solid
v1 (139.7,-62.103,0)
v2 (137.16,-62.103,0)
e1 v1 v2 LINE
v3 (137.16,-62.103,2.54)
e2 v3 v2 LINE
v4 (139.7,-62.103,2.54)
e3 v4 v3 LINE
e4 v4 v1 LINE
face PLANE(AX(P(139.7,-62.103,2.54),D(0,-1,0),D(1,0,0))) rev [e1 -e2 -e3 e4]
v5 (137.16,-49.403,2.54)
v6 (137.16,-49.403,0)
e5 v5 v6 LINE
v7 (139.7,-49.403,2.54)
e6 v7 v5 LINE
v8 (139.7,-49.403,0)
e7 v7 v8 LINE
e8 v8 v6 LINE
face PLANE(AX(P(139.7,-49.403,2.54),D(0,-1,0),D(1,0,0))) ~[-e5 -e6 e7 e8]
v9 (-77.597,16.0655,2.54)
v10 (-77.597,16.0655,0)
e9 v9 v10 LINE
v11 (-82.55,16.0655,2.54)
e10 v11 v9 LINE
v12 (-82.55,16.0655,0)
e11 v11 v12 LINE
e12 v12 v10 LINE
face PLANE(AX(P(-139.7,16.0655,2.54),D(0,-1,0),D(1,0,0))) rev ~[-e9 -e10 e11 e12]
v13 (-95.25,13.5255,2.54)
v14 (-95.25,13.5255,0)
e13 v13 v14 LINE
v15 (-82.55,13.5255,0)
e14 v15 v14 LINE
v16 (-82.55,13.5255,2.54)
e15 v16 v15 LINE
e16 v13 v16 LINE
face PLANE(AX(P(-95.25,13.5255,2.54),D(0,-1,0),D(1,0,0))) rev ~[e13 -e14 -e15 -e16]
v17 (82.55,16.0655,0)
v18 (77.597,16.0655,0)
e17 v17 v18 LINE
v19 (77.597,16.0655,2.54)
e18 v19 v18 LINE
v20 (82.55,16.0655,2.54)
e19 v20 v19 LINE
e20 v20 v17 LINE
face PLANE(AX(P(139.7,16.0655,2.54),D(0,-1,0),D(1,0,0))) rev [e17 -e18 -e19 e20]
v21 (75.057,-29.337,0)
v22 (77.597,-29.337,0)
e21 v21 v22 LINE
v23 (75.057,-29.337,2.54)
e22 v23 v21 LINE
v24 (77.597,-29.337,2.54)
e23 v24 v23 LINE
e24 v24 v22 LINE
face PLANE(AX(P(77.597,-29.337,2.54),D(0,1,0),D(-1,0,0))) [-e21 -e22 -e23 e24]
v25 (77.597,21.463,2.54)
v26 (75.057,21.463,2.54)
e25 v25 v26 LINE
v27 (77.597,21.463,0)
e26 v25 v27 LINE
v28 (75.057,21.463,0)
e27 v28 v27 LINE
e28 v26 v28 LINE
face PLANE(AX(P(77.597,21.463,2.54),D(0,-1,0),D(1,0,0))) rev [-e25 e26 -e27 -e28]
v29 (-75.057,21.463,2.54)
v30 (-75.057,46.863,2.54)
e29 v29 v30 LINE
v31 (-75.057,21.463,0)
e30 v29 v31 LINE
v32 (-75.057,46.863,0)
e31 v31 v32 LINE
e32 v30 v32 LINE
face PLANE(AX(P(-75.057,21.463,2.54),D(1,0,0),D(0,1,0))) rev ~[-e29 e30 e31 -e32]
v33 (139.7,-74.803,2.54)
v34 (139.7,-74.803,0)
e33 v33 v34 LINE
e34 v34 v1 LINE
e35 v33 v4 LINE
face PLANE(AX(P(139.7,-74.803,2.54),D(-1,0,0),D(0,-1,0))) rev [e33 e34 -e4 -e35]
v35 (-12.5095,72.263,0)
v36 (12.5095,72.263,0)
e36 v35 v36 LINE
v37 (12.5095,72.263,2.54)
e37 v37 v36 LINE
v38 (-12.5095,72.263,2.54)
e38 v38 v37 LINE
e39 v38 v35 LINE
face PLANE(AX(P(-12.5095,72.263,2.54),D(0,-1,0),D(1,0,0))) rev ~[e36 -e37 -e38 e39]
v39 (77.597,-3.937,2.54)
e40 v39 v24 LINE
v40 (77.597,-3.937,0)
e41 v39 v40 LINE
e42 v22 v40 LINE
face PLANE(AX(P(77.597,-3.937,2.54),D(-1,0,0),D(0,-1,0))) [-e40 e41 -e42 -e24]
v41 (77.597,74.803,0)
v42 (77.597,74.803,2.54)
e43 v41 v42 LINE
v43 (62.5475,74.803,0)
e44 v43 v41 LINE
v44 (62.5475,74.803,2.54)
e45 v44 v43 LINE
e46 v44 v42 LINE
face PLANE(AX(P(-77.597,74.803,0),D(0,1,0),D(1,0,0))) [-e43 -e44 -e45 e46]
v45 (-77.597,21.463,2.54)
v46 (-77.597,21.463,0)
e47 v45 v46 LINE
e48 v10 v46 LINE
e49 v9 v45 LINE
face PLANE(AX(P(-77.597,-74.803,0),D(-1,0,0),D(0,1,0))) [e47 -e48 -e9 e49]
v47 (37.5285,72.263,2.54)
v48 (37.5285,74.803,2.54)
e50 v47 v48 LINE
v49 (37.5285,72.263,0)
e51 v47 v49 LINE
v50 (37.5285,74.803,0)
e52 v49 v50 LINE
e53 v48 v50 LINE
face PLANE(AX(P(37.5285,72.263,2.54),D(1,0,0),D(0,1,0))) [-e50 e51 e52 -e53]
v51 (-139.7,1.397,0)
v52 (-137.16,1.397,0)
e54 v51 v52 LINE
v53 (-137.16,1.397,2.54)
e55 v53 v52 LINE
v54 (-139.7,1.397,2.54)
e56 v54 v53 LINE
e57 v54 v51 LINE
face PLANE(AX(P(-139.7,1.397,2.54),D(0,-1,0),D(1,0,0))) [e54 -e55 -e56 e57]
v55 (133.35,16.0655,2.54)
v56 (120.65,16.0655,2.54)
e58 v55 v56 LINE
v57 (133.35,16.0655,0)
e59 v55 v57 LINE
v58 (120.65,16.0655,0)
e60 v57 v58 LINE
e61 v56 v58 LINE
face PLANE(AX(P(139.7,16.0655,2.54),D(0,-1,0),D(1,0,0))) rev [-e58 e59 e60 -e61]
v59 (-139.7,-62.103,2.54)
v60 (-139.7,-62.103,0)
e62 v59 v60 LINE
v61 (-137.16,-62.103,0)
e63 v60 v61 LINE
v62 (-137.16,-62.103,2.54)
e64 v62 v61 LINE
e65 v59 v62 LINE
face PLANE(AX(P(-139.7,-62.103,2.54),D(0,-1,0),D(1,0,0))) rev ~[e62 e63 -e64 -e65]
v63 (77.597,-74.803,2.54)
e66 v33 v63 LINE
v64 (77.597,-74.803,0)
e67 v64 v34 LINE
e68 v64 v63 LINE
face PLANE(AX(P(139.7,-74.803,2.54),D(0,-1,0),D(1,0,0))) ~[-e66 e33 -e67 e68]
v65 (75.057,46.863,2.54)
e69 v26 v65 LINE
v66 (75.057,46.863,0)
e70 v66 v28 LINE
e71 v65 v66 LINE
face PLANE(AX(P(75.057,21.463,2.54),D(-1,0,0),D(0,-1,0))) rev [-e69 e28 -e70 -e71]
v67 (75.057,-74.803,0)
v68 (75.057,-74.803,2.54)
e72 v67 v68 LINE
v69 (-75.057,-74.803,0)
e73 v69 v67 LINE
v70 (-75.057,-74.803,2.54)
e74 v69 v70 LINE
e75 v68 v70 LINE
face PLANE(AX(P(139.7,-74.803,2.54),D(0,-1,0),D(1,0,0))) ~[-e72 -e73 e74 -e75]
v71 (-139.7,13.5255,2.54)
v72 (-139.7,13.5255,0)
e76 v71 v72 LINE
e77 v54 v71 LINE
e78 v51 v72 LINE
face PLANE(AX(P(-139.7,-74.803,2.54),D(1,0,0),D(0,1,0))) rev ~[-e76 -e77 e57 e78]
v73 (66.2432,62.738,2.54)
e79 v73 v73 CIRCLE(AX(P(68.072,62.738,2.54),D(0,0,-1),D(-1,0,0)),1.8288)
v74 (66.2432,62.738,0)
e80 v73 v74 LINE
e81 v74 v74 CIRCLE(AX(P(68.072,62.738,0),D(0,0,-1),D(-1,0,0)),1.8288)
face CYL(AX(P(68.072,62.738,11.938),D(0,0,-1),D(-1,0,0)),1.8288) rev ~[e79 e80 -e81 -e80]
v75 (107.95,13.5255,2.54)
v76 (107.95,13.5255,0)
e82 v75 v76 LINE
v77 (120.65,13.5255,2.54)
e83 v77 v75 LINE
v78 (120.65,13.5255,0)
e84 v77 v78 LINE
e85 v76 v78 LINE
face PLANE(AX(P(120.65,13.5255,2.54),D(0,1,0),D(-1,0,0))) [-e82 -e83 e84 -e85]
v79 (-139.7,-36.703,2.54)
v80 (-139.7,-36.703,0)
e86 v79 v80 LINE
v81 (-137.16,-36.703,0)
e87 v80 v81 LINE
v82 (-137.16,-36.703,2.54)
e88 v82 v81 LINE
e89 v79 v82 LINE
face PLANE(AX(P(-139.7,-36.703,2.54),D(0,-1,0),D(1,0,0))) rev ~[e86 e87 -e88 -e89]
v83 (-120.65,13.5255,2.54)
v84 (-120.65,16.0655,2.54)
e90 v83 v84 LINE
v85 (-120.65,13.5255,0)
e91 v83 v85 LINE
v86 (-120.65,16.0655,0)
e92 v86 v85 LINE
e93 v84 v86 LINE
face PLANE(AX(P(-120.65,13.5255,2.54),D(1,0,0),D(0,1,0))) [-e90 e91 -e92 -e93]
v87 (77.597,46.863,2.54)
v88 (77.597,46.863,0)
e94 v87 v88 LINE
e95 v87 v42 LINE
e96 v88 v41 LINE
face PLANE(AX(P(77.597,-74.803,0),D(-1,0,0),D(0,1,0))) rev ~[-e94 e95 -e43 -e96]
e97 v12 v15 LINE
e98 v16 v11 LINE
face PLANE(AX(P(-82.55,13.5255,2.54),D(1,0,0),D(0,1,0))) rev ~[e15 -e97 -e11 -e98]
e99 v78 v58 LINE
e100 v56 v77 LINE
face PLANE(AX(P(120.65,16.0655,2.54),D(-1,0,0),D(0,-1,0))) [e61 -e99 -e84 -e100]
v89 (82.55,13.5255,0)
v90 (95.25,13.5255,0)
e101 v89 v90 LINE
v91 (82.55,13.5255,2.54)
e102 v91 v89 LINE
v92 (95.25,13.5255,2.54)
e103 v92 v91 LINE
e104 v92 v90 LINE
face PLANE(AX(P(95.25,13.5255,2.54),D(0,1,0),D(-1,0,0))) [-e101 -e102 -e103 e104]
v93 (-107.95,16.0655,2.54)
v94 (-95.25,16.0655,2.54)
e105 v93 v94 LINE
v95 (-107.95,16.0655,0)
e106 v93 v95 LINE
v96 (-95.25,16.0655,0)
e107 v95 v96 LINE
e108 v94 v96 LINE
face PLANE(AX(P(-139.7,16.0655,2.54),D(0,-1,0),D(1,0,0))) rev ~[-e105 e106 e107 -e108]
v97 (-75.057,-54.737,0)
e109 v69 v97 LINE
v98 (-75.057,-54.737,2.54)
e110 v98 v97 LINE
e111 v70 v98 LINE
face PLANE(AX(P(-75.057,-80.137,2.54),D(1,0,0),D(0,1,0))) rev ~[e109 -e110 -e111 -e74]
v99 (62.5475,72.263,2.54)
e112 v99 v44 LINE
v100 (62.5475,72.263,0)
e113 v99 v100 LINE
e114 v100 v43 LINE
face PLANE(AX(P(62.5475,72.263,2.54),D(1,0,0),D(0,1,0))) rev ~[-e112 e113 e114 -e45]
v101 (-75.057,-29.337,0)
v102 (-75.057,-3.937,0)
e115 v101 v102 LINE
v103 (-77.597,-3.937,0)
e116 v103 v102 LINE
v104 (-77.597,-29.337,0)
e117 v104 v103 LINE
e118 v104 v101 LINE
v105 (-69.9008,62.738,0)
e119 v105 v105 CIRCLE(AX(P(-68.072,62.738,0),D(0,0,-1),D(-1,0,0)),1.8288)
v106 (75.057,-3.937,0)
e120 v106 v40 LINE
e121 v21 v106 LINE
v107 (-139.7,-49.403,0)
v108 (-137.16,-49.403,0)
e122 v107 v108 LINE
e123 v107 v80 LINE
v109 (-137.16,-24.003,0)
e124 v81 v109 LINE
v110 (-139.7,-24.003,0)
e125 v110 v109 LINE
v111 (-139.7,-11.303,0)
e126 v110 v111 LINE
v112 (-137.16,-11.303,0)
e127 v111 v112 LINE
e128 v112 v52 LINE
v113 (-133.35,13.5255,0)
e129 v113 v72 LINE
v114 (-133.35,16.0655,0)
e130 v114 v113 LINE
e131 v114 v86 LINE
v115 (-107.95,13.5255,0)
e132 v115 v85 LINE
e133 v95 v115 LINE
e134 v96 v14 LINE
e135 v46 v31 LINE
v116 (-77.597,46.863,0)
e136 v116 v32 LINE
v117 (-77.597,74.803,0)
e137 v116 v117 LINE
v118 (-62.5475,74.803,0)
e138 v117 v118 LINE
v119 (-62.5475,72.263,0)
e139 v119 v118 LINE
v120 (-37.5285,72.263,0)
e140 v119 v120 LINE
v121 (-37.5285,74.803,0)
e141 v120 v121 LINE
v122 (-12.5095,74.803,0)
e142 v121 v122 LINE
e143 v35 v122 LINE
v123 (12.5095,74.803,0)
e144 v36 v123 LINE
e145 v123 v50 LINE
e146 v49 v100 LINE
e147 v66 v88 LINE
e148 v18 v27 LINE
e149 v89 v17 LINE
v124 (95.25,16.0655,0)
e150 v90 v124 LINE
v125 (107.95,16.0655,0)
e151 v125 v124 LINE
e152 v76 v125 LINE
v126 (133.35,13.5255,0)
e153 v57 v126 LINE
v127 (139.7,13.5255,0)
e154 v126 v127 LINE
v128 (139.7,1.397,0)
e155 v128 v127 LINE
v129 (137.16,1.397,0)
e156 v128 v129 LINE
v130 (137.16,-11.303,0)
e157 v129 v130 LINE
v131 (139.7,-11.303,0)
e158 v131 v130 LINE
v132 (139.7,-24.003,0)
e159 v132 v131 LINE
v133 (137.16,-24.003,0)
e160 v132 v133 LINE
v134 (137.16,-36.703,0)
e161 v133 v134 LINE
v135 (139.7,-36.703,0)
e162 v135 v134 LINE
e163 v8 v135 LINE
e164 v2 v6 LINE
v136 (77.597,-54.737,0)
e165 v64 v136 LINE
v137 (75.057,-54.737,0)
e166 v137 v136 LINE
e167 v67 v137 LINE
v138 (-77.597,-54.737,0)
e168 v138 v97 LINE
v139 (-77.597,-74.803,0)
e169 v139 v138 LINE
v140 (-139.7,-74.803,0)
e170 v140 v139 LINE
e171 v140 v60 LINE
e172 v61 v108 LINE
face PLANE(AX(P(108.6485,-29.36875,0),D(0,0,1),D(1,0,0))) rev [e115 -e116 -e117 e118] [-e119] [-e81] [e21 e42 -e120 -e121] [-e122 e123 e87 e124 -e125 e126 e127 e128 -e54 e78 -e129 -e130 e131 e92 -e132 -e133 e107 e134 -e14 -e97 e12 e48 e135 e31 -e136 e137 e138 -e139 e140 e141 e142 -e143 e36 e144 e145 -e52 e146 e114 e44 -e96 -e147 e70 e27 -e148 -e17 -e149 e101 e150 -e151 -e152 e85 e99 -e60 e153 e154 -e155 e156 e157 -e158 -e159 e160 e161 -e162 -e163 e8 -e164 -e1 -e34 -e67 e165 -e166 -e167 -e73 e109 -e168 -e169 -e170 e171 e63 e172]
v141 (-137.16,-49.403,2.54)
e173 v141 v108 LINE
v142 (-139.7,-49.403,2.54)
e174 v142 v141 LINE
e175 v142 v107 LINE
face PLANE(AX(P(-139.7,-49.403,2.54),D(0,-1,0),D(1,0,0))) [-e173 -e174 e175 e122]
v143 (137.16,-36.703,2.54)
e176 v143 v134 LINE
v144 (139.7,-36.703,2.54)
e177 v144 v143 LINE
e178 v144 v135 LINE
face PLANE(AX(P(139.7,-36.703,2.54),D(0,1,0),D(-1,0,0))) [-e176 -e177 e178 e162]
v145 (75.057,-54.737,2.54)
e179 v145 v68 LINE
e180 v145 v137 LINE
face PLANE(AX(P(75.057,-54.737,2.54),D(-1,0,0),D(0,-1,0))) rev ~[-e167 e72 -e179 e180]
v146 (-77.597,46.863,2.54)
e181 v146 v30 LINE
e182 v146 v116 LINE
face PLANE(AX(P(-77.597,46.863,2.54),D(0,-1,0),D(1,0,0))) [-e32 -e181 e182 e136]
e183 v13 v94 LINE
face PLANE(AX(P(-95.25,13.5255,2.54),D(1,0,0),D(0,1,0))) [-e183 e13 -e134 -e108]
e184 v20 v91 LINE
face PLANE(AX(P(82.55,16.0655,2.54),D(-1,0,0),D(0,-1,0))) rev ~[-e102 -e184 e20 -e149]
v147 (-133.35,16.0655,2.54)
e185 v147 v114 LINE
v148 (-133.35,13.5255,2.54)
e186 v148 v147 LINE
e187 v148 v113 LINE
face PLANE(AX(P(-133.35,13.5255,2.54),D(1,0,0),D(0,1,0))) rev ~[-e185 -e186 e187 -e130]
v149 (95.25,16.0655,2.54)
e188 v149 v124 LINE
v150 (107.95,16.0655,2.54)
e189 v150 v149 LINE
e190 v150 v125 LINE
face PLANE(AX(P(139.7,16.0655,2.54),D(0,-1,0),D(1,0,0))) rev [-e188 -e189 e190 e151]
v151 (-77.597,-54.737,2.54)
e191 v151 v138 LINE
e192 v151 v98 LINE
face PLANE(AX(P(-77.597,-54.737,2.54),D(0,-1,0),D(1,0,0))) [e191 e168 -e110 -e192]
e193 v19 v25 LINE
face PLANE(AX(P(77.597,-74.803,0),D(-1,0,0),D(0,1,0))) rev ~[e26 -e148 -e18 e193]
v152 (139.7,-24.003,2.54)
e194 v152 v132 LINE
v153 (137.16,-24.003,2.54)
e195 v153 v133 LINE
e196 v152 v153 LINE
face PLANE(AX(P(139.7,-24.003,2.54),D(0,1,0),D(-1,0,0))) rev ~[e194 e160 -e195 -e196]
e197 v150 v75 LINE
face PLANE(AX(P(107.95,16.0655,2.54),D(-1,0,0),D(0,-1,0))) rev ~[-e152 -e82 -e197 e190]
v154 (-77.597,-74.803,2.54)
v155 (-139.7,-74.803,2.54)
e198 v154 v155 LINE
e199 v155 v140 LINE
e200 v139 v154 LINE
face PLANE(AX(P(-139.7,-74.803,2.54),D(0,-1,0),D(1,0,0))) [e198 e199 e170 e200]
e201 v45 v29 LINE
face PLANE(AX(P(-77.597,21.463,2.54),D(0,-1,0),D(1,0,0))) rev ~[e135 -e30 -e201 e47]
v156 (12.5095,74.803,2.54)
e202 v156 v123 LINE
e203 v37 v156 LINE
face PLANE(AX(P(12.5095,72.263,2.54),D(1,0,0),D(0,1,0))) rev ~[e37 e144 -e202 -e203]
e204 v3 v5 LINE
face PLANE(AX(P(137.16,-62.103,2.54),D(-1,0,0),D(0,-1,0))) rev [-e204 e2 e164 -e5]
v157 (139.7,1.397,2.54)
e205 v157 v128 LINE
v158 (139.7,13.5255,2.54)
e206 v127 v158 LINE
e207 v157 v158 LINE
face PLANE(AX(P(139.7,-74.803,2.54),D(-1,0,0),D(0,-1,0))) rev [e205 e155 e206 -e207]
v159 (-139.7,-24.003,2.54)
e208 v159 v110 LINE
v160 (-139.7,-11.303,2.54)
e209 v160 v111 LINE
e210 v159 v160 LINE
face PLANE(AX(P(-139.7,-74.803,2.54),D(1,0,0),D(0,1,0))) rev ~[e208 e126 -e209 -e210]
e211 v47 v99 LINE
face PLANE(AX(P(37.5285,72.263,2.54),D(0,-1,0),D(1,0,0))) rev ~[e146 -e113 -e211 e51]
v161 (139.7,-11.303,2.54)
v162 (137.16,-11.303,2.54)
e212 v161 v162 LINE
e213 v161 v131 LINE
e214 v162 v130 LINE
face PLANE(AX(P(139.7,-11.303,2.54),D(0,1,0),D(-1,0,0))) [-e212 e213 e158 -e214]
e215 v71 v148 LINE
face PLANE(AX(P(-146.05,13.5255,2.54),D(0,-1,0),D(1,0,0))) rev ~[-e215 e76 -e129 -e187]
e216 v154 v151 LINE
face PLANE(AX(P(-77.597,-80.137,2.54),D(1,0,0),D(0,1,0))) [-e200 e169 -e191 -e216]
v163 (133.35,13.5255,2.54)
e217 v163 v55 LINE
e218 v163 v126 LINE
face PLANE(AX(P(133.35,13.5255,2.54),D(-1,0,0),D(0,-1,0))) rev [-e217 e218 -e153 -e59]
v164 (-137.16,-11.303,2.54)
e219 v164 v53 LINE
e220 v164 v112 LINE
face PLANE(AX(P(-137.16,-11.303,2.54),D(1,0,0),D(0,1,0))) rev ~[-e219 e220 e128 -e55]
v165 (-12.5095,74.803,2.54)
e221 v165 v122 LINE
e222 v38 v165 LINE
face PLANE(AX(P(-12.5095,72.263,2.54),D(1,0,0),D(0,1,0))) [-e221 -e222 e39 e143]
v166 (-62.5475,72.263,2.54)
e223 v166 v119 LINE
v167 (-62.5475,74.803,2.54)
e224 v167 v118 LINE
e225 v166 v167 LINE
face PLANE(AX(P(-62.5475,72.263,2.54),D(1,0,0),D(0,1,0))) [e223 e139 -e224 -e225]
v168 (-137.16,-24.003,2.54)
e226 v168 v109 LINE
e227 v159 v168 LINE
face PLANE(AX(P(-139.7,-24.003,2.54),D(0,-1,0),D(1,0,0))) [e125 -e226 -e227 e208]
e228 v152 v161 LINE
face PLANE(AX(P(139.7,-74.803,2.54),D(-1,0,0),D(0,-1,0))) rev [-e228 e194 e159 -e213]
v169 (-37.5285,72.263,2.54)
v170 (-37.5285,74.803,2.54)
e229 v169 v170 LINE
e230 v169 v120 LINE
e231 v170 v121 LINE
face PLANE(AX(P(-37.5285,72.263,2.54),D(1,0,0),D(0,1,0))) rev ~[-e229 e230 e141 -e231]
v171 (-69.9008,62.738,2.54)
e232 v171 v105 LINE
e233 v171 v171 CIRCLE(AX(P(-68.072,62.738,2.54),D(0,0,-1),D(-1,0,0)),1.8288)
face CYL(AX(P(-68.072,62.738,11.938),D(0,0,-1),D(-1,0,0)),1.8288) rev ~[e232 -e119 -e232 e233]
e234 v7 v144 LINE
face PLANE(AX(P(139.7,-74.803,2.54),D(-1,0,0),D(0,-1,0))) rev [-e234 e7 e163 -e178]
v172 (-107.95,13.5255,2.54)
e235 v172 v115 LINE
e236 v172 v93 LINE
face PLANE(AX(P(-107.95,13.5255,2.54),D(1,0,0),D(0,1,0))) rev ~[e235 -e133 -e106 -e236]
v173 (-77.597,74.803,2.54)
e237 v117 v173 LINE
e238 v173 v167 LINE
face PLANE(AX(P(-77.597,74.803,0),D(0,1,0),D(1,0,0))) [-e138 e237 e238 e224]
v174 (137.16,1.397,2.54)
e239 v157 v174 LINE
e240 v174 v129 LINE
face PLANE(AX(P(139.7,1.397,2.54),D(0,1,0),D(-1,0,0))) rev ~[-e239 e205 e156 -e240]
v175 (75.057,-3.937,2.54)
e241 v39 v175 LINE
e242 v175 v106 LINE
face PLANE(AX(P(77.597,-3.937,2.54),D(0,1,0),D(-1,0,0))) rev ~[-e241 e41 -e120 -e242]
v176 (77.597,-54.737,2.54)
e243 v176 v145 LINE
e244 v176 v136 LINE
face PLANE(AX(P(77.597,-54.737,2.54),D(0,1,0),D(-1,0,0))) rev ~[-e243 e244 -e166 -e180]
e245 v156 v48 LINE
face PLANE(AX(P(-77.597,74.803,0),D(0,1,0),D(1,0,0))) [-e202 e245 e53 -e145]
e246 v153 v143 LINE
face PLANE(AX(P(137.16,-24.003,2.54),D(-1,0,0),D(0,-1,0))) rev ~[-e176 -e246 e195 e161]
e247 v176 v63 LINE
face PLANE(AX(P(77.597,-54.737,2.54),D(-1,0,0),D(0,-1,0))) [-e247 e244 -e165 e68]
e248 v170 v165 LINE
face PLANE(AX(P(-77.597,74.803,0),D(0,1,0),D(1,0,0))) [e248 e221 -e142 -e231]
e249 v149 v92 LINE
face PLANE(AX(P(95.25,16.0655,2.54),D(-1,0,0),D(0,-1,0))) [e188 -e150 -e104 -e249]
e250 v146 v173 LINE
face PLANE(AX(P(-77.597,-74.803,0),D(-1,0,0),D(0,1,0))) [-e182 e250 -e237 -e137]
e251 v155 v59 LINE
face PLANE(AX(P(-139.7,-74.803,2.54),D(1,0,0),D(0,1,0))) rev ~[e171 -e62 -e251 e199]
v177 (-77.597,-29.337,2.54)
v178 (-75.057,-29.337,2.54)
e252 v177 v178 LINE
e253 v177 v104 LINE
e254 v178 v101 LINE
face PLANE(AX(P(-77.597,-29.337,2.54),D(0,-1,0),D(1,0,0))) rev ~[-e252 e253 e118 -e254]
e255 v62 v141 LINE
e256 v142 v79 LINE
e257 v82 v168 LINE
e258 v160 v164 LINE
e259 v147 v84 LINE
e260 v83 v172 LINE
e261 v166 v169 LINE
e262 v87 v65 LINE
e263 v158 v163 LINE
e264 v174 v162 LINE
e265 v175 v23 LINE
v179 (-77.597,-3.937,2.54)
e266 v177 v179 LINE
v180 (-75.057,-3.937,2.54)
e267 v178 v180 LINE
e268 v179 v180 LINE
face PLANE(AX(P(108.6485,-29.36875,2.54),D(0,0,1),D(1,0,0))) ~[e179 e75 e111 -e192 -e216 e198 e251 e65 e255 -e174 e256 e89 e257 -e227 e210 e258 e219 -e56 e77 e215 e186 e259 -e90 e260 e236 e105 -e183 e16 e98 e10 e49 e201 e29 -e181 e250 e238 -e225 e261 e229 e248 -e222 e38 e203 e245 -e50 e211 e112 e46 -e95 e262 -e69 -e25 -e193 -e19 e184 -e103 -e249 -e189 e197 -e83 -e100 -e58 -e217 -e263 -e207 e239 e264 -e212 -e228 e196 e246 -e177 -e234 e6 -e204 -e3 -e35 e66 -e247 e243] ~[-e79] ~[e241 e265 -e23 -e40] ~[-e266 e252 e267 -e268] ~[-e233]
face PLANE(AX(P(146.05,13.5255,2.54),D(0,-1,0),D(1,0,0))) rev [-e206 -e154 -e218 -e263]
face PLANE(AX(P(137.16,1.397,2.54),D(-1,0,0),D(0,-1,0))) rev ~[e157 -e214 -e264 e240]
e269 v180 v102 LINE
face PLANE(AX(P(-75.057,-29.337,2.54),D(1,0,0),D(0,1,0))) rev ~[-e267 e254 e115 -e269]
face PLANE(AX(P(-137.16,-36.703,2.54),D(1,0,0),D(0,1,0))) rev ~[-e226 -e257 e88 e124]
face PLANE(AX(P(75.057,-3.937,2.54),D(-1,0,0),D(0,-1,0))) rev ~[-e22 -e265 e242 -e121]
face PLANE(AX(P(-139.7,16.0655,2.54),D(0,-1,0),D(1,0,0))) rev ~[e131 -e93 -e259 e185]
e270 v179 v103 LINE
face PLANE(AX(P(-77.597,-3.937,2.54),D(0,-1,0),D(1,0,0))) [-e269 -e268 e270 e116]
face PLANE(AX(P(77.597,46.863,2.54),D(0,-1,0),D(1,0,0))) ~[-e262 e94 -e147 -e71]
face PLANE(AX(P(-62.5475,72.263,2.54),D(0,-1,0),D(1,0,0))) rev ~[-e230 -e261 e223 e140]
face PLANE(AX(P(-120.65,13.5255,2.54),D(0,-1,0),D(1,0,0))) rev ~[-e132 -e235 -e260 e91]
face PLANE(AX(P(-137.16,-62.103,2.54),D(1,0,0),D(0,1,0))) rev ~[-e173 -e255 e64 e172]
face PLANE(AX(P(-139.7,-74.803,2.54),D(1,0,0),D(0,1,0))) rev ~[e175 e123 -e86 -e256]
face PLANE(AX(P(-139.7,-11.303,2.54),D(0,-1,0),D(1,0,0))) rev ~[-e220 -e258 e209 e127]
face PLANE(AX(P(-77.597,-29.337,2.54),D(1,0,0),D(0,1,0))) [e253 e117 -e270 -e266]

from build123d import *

# Parameters (mm, degrees)
SKETCH1_W                 = 155.194
SKETCH1_H                 = 149.606
BOSS_EXTRUDE1_DEPTH       = 2.54
SKETCH2_W                 = 62.103
SKETCH2_H                 = 90.8685
BOSS_EXTRUDE2_DEPTH       = 2.54
SKETCH3_W                 = 2.54
SKETCH3_H                 = 25.4
CUT_EXTRUDE1_DEPTH        = 159.486688428
LPATTERN1_COUNT           = 3
LPATTERN1_PITCH           = 50.8
MIRROR1_COPY_1_SKETCH_W   = 2.54
MIRROR1_COPY_1_SKETCH_H   = 25.4
MIRROR1_COPY_1_DEPTH      = 159.486688428
MIRROR1_COPY_2_SKETCH_W   = 2.54
MIRROR1_COPY_2_SKETCH_H   = 25.4
MIRROR1_COPY_2_DEPTH      = 159.486688428
SKETCH4_W                 = 12.7
SKETCH4_H                 = 2.54
CUT_EXTRUDE2_DEPTH        = 159.486688428
LPATTERN2_COUNT           = 3
LPATTERN2_PITCH           = 25.4
MIRROR2_COPY_1_SKETCH_W   = 12.7
MIRROR2_COPY_1_SKETCH_H   = 2.54
MIRROR2_COPY_1_DEPTH      = 159.486688428
MIRROR2_COPY_2_SKETCH_W   = 12.7
MIRROR2_COPY_2_SKETCH_H   = 2.54
MIRROR2_COPY_2_DEPTH      = 159.486688428
SKETCH5_W                 = 2.54
SKETCH5_H                 = 12.7
CUT_EXTRUDE3_DEPTH        = 2.54
LPATTERN3_COUNT           = 4
LPATTERN3_PITCH           = 25.4
MIRROR3_COPY_1_SKETCH_W   = 2.54
MIRROR3_COPY_1_SKETCH_H   = 12.7
MIRROR3_COPY_1_DEPTH      = 2.54
MIRROR3_COPY_2_SKETCH_W   = 2.54
MIRROR3_COPY_2_SKETCH_H   = 12.7
MIRROR3_COPY_2_DEPTH      = 2.54
MIRROR3_COPY_3_SKETCH_W   = 2.54
MIRROR3_COPY_3_SKETCH_H   = 12.7
MIRROR3_COPY_3_DEPTH      = 2.54
SKETCH6_W                 = 25.019
SKETCH6_H                 = 2.54
CUT_EXTRUDE4_DEPTH        = 2.54
LPATTERN4_COUNT           = 3
LPATTERN4_PITCH           = 50.038
F_6_CLEARANCE_HOLE1_D     = 3.6576
F_6_CLEARANCE_HOLE1_DEPTH = 9.398
F_6_CLEARANCE_HOLE1_TIP   = 1.0988539


with BuildPart() as part:
    # Sketch1 → Boss-Extrude1 (new body)
    with BuildSketch(Plane.XY):
        Rectangle(SKETCH1_W, SKETCH1_H)
    extrude(amount=BOSS_EXTRUDE1_DEPTH)

    # Sketch2 → Boss-Extrude2 (add)
    with BuildSketch(Plane.XY.offset(2.54)):
        with Locations((-108.6485, -29.36875)):
            Rectangle(SKETCH2_W, SKETCH2_H)
    boss_extrude2 = extrude(amount=-BOSS_EXTRUDE2_DEPTH)

    # Sketch3 → Cut-Extrude1 (cut, through all)
    with BuildSketch(Plane.XY.offset(2.54)):
        with Locations((-76.327, 34.163)):
            Rectangle(SKETCH3_W, SKETCH3_H)
    cut_extrude1 = extrude(amount=-CUT_EXTRUDE1_DEPTH, mode=Mode.SUBTRACT)

    # LPattern1: Cut-Extrude1 ×3
    with Locations(*[(0, -i * LPATTERN1_PITCH, 0) for i in range(1, LPATTERN1_COUNT)]):
        add(cut_extrude1, mode=Mode.SUBTRACT)

    # Mirror1: Boss-Extrude2, Cut-Extrude1 across plane
    add(boss_extrude2.mirror(Plane(origin=(0, 0, 0), x_dir=(0, 0, 1), z_dir=(1, 0, 0))))
    add(cut_extrude1.mirror(Plane(origin=(0, 0, 0), x_dir=(0, 0, 1), z_dir=(1, 0, 0))), mode=Mode.SUBTRACT)

    # Mirror1 copy 1 sketch → Mirror1 copy 1 (cut, through all)
    with BuildSketch(Plane(origin=(0, -50.8, 2.54), x_dir=(-1, 0, 0), z_dir=(0, 0, 1))):
        with Locations((-76.327, -34.163)):
            Rectangle(MIRROR1_COPY_1_SKETCH_W, MIRROR1_COPY_1_SKETCH_H)
    extrude(amount=-MIRROR1_COPY_1_DEPTH, mode=Mode.SUBTRACT)

    # Mirror1 copy 2 sketch → Mirror1 copy 2 (cut, through all)
    with BuildSketch(Plane(origin=(0, -101.6, 2.54), x_dir=(-1, 0, 0), z_dir=(0, 0, 1))):
        with Locations((-76.327, -34.163)):
            Rectangle(MIRROR1_COPY_2_SKETCH_W, MIRROR1_COPY_2_SKETCH_H)
    extrude(amount=-MIRROR1_COPY_2_DEPTH, mode=Mode.SUBTRACT)

    # Sketch4 → Cut-Extrude2 (cut, through all)
    with BuildSketch(Plane.XY.offset(2.54)):
        with Locations((-139.7, 14.7955)):
            Rectangle(SKETCH4_W, SKETCH4_H)
    cut_extrude2 = extrude(amount=-CUT_EXTRUDE2_DEPTH, mode=Mode.SUBTRACT)

    # LPattern2: Cut-Extrude2 ×3
    with Locations(*[(i * LPATTERN2_PITCH, 0, 0) for i in range(1, LPATTERN2_COUNT)]):
        add(cut_extrude2, mode=Mode.SUBTRACT)

    # Mirror2: Cut-Extrude2 across plane
    add(cut_extrude2.mirror(Plane(origin=(0, 0, 0), x_dir=(0, 0, 1), z_dir=(1, 0, 0))), mode=Mode.SUBTRACT)

    # Mirror2 copy 1 sketch → Mirror2 copy 1 (cut, through all)
    with BuildSketch(Plane(origin=(-25.4, 0, 2.54), x_dir=(-1, 0, 0), z_dir=(0, 0, 1))):
        with Locations((-139.7, -14.7955)):
            Rectangle(MIRROR2_COPY_1_SKETCH_W, MIRROR2_COPY_1_SKETCH_H)
    extrude(amount=-MIRROR2_COPY_1_DEPTH, mode=Mode.SUBTRACT)

    # Mirror2 copy 2 sketch → Mirror2 copy 2 (cut, through all)
    with BuildSketch(Plane(origin=(-50.8, 0, 2.54), x_dir=(-1, 0, 0), z_dir=(0, 0, 1))):
        with Locations((-139.7, -14.7955)):
            Rectangle(MIRROR2_COPY_2_SKETCH_W, MIRROR2_COPY_2_SKETCH_H)
    extrude(amount=-MIRROR2_COPY_2_DEPTH, mode=Mode.SUBTRACT)

    # Sketch5 → Cut-Extrude3 (cut)
    with BuildSketch(Plane.XY.offset(2.54)):
        with Locations((-138.43, -55.753)):
            Rectangle(SKETCH5_W, SKETCH5_H)
    cut_extrude3 = extrude(amount=-CUT_EXTRUDE3_DEPTH, mode=Mode.SUBTRACT)

    # LPattern3: Cut-Extrude3 ×4
    with Locations(*[(0, i * LPATTERN3_PITCH, 0) for i in range(1, LPATTERN3_COUNT)]):
        add(cut_extrude3, mode=Mode.SUBTRACT)

    # Mirror3: Cut-Extrude3 across plane
    add(cut_extrude3.mirror(Plane(origin=(0, 0, 0), x_dir=(0, 0, 1), z_dir=(1, 0, 0))), mode=Mode.SUBTRACT)

    # Mirror3 copy 1 sketch → Mirror3 copy 1 (cut)
    with BuildSketch(Plane(origin=(0, 25.4, 2.54), x_dir=(-1, 0, 0), z_dir=(0, 0, 1))):
        with Locations((-138.43, 55.753)):
            Rectangle(MIRROR3_COPY_1_SKETCH_W, MIRROR3_COPY_1_SKETCH_H)
    extrude(amount=-MIRROR3_COPY_1_DEPTH, mode=Mode.SUBTRACT)

    # Mirror3 copy 2 sketch → Mirror3 copy 2 (cut)
    with BuildSketch(Plane(origin=(0, 50.8, 2.54), x_dir=(-1, 0, 0), z_dir=(0, 0, 1))):
        with Locations((-138.43, 55.753)):
            Rectangle(MIRROR3_COPY_2_SKETCH_W, MIRROR3_COPY_2_SKETCH_H)
    extrude(amount=-MIRROR3_COPY_2_DEPTH, mode=Mode.SUBTRACT)

    # Mirror3 copy 3 sketch → Mirror3 copy 3 (cut)
    with BuildSketch(Plane(origin=(0, 76.2, 2.54), x_dir=(-1, 0, 0), z_dir=(0, 0, 1))):
        with Locations((-138.43, 55.753)):
            Rectangle(MIRROR3_COPY_3_SKETCH_W, MIRROR3_COPY_3_SKETCH_H)
    extrude(amount=-MIRROR3_COPY_3_DEPTH, mode=Mode.SUBTRACT)

    # Sketch6 → Cut-Extrude4 (cut)
    with BuildSketch(Plane.XY.offset(2.54)):
        with Locations((-50.038, 73.533)):
            Rectangle(SKETCH6_W, SKETCH6_H)
    cut_extrude4 = extrude(amount=-CUT_EXTRUDE4_DEPTH, mode=Mode.SUBTRACT)

    # LPattern4: Cut-Extrude4 ×3
    with Locations(*[(i * LPATTERN4_PITCH, 0, 0) for i in range(1, LPATTERN4_COUNT)]):
        add(cut_extrude4, mode=Mode.SUBTRACT)

    # #6 Clearance Hole1
    with Locations(Plane.XY.offset(2.54)):
        with Locations((-68.072, 62.738), (68.072, 62.738)):
            Hole(F_6_CLEARANCE_HOLE1_D / 2, depth=F_6_CLEARANCE_HOLE1_DEPTH)
            with Locations((0, 0, -(F_6_CLEARANCE_HOLE1_DEPTH + F_6_CLEARANCE_HOLE1_TIP / 2))):  # 118° drill point
                Cone(0, F_6_CLEARANCE_HOLE1_D / 2, F_6_CLEARANCE_HOLE1_TIP, mode=Mode.SUBTRACT)


solid = part.part
